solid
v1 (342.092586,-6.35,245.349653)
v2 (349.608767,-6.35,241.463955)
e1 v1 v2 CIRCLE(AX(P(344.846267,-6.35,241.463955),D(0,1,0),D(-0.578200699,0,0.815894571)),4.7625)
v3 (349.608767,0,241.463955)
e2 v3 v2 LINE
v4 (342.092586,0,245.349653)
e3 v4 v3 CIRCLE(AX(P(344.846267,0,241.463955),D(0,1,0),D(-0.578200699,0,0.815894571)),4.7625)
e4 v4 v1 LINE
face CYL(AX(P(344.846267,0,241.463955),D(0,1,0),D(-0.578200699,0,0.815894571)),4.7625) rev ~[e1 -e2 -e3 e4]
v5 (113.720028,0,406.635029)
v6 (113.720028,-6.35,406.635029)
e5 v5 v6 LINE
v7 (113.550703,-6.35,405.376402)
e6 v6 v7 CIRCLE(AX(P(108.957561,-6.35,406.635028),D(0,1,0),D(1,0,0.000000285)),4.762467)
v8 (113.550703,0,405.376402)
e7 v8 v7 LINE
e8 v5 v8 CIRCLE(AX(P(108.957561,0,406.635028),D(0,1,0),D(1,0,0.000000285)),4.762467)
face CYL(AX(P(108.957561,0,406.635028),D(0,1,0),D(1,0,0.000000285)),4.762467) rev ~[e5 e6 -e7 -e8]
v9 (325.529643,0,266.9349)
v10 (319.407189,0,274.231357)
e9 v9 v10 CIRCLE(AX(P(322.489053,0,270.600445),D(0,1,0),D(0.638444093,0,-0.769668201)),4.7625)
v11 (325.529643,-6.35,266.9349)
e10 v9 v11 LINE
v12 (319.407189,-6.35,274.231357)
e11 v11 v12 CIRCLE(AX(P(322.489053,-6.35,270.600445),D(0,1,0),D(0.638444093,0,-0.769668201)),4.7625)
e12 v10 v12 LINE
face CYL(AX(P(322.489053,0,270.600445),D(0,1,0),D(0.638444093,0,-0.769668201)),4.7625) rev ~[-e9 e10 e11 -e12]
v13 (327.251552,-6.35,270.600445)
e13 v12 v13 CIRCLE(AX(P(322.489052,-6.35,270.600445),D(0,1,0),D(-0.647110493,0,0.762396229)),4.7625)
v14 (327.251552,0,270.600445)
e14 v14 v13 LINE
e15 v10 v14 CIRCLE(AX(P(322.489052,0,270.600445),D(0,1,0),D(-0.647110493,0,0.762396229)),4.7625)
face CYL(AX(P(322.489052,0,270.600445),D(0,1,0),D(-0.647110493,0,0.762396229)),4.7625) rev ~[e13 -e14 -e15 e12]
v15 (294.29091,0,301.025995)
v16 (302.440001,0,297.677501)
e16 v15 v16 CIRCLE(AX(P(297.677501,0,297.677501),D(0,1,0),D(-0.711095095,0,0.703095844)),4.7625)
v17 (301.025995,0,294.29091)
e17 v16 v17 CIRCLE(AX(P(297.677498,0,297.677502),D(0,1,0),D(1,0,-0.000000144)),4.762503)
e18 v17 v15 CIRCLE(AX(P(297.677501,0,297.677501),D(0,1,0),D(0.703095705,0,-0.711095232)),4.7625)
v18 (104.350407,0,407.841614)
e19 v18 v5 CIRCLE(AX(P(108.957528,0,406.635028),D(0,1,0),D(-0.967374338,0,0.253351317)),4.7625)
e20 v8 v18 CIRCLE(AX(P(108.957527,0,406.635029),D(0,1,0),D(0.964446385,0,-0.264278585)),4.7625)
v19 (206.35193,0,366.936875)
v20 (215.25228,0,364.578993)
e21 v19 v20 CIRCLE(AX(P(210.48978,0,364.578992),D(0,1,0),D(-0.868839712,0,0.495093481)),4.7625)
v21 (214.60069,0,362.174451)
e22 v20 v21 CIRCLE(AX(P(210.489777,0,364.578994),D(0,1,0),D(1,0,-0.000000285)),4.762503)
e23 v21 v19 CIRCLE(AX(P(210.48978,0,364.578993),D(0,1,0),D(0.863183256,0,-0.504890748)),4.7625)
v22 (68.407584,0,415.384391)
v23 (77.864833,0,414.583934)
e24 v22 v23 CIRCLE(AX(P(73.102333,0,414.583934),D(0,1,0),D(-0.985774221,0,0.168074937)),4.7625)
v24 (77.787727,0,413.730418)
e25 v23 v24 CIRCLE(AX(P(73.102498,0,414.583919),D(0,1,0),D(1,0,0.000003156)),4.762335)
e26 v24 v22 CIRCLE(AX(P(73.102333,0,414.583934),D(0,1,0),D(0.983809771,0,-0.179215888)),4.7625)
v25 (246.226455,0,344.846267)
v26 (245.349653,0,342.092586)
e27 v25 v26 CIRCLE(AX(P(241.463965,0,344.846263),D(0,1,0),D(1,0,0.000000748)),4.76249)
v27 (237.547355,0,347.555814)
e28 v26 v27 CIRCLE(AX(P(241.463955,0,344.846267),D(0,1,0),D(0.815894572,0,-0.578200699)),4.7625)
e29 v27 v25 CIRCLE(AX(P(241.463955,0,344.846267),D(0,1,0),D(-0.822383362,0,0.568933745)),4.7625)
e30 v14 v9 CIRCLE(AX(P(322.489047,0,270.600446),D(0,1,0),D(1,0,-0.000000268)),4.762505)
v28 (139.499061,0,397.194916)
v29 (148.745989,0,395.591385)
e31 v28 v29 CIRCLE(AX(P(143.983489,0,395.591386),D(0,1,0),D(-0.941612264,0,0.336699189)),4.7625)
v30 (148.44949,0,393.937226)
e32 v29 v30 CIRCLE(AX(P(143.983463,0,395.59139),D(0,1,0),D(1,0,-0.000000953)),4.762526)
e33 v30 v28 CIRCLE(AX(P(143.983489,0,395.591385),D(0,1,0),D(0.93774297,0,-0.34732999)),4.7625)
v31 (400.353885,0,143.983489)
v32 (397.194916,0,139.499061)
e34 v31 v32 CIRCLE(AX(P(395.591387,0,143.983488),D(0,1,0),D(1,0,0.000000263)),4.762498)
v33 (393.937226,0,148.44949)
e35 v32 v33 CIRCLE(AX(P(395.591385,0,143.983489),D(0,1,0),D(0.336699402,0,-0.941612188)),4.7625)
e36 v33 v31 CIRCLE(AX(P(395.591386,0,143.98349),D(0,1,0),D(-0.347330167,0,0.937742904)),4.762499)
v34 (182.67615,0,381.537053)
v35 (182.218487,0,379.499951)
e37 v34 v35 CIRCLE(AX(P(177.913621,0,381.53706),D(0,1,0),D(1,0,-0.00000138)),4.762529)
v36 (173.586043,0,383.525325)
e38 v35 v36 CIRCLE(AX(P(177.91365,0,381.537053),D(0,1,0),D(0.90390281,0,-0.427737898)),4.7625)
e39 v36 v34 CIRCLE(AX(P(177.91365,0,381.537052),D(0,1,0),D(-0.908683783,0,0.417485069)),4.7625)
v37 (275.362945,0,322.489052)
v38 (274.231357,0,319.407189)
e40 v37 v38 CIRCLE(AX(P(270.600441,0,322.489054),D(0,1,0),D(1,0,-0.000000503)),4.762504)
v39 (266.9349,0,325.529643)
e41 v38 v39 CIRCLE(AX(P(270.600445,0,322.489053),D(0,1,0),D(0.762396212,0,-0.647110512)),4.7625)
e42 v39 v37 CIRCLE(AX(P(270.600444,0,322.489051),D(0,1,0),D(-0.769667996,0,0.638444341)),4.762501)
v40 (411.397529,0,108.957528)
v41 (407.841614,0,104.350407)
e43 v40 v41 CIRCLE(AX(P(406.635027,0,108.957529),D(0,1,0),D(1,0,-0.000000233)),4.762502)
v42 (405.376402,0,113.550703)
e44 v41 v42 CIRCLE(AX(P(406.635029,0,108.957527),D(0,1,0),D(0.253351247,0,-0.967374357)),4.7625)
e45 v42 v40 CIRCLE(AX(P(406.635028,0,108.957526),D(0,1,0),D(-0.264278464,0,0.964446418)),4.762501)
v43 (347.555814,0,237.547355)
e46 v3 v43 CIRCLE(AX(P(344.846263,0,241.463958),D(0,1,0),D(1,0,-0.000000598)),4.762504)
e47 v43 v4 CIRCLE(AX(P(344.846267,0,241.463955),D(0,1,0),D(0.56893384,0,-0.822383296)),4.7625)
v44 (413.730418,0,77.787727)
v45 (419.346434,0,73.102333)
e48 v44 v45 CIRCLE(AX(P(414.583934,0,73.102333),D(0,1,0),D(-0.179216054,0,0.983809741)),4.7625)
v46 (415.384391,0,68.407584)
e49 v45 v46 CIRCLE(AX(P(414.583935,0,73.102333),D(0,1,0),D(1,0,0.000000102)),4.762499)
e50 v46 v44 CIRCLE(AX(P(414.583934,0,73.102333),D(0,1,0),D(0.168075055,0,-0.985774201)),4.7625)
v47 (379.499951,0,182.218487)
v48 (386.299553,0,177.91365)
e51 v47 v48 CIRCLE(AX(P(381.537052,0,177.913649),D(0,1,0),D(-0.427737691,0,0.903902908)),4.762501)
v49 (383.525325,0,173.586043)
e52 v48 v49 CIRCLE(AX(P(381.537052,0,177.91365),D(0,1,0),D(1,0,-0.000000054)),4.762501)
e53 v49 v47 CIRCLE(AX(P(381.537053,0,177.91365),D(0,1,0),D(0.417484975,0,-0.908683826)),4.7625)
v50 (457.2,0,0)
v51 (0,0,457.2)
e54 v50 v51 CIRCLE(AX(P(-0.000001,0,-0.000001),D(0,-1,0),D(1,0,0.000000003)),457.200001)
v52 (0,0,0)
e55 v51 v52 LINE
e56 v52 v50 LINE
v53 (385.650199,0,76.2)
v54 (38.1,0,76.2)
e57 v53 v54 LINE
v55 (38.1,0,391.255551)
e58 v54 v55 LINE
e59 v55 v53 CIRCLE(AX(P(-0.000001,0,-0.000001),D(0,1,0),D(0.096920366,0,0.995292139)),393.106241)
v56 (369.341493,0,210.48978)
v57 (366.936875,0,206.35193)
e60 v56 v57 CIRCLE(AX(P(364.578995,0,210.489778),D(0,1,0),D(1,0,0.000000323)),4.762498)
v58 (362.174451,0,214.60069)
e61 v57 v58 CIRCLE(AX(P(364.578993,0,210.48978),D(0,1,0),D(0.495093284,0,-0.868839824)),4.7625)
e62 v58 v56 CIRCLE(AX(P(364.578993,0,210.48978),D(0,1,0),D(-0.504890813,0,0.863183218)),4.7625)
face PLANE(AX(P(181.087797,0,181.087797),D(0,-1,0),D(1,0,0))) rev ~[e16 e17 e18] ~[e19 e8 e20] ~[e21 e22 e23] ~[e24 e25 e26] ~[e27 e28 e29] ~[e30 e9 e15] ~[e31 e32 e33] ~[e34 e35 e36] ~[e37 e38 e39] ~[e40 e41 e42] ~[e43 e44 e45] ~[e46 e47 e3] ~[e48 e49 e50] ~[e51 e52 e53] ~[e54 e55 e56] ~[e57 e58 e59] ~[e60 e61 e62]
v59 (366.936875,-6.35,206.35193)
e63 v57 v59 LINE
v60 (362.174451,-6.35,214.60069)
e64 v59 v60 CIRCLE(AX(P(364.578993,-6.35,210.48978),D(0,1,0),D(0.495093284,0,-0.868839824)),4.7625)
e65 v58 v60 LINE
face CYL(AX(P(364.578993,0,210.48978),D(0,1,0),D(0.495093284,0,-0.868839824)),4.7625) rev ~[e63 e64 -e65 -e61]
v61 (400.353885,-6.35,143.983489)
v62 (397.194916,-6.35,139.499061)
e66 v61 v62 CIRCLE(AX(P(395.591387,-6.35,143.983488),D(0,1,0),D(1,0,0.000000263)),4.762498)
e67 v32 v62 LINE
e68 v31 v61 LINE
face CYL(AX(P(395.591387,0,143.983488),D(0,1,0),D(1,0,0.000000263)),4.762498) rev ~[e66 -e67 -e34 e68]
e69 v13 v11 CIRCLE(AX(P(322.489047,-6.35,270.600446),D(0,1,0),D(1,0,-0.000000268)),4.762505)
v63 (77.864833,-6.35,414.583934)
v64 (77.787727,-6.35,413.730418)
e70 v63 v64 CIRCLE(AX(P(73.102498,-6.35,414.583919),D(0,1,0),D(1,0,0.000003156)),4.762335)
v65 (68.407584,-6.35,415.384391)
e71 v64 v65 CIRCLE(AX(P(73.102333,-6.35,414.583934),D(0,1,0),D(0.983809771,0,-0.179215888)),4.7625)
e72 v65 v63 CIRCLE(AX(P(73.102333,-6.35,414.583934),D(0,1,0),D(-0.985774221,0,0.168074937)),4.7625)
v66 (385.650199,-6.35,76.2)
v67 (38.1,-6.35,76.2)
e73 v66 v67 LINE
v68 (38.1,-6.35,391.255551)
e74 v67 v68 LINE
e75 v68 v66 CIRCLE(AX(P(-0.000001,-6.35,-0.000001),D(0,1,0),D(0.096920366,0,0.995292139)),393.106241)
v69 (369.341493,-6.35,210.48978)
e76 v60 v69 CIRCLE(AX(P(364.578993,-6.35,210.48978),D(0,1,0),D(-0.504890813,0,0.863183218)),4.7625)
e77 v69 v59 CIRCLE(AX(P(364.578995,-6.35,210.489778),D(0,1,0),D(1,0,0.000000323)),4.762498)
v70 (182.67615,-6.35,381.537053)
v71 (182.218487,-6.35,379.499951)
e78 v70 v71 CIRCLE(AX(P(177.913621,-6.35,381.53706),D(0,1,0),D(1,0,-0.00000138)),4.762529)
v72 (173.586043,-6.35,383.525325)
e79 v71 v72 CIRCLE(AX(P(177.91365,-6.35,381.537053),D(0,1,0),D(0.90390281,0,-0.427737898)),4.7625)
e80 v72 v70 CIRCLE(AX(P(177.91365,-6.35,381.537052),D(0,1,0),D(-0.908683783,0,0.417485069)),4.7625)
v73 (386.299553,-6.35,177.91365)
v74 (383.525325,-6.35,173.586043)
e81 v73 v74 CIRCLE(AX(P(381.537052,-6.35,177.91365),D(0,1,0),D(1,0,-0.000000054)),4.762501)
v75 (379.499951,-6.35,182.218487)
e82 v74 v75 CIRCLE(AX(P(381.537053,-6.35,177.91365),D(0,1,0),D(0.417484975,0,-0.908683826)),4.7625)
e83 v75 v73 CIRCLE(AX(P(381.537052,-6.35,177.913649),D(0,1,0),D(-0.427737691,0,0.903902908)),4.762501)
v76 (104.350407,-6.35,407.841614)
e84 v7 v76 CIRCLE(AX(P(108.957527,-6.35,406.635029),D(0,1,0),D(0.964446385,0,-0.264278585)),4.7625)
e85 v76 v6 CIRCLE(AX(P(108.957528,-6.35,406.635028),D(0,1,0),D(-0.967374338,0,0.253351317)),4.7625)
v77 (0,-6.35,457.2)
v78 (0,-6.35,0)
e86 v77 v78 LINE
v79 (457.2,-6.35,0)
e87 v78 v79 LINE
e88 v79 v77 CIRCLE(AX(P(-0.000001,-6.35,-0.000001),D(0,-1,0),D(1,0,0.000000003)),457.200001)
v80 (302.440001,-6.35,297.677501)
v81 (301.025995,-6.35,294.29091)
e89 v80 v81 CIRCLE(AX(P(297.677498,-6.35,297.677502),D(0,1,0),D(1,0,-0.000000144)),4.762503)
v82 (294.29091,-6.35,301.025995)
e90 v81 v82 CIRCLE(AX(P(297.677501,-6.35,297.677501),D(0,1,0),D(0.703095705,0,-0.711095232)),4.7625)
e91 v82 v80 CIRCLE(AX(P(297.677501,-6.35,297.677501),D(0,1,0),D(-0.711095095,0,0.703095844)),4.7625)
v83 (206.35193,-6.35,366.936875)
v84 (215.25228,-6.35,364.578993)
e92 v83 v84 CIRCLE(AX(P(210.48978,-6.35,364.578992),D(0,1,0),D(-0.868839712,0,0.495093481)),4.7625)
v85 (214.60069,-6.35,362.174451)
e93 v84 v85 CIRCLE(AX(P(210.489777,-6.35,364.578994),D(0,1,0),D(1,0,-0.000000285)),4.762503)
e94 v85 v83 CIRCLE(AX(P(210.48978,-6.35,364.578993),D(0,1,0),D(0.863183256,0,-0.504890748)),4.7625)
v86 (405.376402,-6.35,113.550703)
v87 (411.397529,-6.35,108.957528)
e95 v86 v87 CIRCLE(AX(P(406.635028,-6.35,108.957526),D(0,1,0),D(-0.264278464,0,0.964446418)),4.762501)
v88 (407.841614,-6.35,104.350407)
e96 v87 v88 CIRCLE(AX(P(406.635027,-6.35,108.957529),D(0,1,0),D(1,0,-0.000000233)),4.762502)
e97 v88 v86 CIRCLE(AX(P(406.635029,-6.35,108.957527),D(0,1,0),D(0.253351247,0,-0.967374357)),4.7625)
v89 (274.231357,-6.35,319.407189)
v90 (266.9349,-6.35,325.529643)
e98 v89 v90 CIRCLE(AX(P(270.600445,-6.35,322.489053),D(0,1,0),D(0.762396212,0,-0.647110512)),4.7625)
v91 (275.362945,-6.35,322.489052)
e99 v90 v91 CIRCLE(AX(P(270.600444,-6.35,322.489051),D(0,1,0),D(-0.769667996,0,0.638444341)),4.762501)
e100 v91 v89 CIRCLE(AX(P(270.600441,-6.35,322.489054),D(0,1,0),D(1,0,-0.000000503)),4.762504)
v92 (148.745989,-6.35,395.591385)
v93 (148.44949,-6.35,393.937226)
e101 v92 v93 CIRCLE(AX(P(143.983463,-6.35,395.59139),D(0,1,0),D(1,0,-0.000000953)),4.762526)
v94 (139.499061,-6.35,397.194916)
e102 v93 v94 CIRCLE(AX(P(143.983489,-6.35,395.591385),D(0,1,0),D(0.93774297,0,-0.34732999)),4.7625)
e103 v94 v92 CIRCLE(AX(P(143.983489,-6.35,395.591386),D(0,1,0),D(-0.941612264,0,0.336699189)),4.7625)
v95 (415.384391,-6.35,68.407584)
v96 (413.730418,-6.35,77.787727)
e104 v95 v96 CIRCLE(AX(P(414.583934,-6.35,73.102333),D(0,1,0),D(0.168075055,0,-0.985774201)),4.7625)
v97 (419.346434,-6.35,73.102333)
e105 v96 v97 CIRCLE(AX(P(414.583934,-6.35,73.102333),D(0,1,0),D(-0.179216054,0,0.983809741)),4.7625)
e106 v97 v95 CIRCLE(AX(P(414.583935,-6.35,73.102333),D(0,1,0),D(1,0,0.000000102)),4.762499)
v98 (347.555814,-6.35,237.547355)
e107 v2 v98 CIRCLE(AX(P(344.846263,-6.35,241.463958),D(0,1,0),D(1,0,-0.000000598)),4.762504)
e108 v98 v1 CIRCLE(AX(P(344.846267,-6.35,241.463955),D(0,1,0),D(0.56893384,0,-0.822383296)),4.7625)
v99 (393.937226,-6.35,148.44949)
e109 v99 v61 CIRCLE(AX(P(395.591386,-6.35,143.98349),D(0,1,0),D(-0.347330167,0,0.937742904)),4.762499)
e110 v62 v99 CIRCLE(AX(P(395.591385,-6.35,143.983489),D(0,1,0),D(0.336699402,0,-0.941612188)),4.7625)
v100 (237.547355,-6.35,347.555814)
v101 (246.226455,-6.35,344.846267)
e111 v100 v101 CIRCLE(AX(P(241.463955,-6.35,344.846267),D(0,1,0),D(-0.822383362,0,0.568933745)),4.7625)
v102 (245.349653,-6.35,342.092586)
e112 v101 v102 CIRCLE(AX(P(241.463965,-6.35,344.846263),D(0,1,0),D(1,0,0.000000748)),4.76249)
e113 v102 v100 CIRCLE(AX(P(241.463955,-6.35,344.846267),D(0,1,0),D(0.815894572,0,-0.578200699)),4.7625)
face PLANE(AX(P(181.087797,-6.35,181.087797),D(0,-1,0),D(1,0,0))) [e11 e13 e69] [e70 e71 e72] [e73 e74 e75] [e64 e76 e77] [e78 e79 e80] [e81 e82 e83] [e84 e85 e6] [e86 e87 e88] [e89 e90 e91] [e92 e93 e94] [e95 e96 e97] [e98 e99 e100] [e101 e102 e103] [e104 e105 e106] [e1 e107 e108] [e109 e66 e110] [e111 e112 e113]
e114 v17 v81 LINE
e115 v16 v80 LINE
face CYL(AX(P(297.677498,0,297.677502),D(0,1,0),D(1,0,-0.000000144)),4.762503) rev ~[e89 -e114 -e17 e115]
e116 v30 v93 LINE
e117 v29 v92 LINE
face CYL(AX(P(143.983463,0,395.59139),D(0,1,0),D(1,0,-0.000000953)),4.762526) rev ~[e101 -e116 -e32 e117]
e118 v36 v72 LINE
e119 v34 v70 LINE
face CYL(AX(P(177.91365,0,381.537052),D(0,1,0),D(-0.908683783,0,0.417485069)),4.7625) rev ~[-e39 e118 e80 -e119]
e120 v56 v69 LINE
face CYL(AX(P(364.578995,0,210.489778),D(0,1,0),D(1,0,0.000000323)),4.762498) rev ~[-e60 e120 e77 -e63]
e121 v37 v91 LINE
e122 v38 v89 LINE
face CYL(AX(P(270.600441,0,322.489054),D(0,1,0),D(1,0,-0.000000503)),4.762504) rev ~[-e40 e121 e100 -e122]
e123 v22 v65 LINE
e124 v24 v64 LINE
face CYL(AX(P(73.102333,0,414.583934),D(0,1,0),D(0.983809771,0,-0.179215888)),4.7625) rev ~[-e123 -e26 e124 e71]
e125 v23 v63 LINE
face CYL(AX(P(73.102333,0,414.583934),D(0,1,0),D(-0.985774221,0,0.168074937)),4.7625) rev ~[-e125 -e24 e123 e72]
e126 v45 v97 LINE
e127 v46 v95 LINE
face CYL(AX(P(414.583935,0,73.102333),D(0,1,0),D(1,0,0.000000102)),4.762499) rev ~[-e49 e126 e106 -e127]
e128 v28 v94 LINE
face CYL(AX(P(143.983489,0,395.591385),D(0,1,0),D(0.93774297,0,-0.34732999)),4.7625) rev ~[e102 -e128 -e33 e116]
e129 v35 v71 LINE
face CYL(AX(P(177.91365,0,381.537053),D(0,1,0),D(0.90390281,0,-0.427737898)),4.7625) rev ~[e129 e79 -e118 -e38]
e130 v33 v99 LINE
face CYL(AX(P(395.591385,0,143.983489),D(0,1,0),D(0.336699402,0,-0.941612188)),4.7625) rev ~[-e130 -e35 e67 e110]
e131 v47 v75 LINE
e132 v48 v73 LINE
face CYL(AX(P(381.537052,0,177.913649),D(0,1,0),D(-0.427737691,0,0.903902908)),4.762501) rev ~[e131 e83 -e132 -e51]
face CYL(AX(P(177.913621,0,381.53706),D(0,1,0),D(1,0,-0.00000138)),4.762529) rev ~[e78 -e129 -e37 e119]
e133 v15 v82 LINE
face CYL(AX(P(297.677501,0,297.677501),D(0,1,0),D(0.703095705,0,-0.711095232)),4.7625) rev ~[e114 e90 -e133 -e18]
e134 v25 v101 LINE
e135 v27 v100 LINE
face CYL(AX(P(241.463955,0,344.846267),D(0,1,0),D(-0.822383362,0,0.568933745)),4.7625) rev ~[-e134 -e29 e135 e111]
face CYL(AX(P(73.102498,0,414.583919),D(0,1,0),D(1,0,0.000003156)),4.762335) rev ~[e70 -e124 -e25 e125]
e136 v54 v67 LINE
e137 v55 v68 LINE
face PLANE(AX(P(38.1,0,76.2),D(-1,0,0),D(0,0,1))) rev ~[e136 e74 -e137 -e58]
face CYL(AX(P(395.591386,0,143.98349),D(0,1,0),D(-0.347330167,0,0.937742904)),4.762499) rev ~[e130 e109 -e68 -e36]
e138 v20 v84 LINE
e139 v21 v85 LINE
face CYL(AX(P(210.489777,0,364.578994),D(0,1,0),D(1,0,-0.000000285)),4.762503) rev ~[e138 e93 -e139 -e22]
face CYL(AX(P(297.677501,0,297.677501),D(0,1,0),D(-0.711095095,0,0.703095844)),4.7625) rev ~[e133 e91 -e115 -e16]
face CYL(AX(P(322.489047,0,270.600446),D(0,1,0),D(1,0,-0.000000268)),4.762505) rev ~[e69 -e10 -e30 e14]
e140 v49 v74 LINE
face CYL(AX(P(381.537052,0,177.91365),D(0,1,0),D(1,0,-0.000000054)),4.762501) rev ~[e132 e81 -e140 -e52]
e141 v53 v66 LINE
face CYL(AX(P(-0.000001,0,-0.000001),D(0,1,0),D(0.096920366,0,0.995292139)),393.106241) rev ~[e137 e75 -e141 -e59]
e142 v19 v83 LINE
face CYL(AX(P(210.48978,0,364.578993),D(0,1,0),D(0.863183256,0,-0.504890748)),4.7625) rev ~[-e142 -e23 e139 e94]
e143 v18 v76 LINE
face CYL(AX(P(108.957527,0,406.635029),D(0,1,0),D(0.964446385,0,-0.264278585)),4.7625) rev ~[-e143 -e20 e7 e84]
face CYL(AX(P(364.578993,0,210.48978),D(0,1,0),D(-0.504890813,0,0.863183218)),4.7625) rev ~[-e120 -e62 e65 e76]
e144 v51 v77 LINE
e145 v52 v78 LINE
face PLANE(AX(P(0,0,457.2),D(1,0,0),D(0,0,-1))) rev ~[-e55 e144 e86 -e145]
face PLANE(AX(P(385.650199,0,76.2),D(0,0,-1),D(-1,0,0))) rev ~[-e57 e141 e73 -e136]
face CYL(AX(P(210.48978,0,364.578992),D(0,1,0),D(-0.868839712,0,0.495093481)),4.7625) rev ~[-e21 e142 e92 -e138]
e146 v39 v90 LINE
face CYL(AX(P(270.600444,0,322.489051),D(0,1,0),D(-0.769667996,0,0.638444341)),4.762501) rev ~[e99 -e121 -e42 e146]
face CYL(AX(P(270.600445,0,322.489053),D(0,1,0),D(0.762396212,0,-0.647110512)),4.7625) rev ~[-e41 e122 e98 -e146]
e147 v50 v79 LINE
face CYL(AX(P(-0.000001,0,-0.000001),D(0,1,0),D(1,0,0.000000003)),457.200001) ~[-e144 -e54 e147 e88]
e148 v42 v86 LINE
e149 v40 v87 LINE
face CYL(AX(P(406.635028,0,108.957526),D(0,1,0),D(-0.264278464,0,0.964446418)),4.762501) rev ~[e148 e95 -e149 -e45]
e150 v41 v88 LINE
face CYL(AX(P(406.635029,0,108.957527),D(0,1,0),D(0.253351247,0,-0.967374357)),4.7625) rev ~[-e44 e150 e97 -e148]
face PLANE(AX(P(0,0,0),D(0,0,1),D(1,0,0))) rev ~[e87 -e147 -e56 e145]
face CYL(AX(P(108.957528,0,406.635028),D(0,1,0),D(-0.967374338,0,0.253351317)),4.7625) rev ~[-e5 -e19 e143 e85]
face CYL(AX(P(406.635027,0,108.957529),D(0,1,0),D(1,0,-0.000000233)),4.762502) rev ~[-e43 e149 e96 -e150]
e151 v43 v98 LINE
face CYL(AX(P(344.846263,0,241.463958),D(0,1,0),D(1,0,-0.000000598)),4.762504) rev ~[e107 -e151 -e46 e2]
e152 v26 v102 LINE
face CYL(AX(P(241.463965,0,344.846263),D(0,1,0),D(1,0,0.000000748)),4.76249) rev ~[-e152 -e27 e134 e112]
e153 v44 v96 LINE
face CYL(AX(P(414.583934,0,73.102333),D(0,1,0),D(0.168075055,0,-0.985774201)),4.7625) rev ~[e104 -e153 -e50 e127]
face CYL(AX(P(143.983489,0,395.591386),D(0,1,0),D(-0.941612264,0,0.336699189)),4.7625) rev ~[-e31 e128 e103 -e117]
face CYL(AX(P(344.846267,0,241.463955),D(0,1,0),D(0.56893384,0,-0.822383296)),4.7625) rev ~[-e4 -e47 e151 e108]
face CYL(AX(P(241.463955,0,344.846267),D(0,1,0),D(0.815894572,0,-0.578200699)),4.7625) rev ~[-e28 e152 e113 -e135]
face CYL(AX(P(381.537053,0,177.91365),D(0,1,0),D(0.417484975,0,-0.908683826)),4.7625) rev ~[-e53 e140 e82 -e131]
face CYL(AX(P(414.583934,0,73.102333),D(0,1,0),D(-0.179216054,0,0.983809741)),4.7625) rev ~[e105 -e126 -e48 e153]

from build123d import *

# Parameters (mm, degrees)
F1_DEPTH = 6.35


with BuildPart() as f1:
    # F0 (on Front) → F1 (new body)
    with BuildSketch(Plane.XZ):
        with BuildLine():
            Line((0, 420.979559), (0, 0))
            Line((0, 0), (420.979559, 0))
            ThreePointArc((420.979559, 0), (419.578436, 34.318011), (415.384391, 68.407584))
            ThreePointArc((415.384391, 68.407584), (409.893787, 72.275334), (413.730418, 77.787727))
            ThreePointArc((413.730418, 77.787727), (411.000663, 91.116653), (407.841614, 104.350407))
            ThreePointArc((407.841614, 104.350407), (402.034807, 107.724902), (405.376402, 113.550703))
            ThreePointArc((405.376402, 113.550703), (401.495342, 126.590995), (397.194916, 139.499061))
            ThreePointArc((397.194916, 139.499061), (391.116099, 142.354618), (393.937226, 148.44949))
            ThreePointArc((393.937226, 148.44949), (388.934399, 161.101903), (383.525325, 173.586043))
            ThreePointArc((383.525325, 173.586043), (377.220762, 175.90093), (379.499951, 182.218487))
            ThreePointArc((379.499951, 182.218487), (373.41343, 194.386728), (366.936875, 206.35193))
            ThreePointArc((366.936875, 206.35193), (360.454547, 208.10853), (362.174451, 214.60069))
            ThreePointArc((362.174451, 214.60069), (355.050559, 226.192152), (347.555814, 237.547355))
            ThreePointArc((347.555814, 237.547355), (340.945055, 238.732298), (342.092586, 245.349653))
            ThreePointArc((342.092586, 245.349653), (333.98554, 256.276118), (325.529643, 266.9349))
            ThreePointArc((325.529643, 266.9349), (318.840766, 267.539169), (319.407189, 274.231357))
            ThreePointArc((319.407189, 274.231357), (310.378688, 284.409668), (301.025995, 294.29091))
            ThreePointArc((301.025995, 294.29091), (294.309905, 294.309905), (294.29091, 301.025995))
            ThreePointArc((294.29091, 301.025995), (284.409668, 310.378688), (274.231357, 319.407189))
            ThreePointArc((274.231357, 319.407189), (267.539169, 318.840766), (266.9349, 325.529643))
            ThreePointArc((266.9349, 325.529643), (256.276118, 333.98554), (245.349653, 342.092586))
            ThreePointArc((245.349653, 342.092586), (238.732298, 340.945055), (237.547355, 347.555814))
            ThreePointArc((237.547355, 347.555814), (226.192152, 355.050559), (214.60069, 362.174451))
            ThreePointArc((214.60069, 362.174451), (208.10853, 360.454547), (206.35193, 366.936875))
            ThreePointArc((206.35193, 366.936875), (194.386728, 373.41343), (182.218487, 379.499951))
            ThreePointArc((182.218487, 379.499951), (175.90093, 377.220762), (173.586043, 383.525325))
            ThreePointArc((173.586043, 383.525325), (161.101903, 388.934399), (148.44949, 393.937226))
            ThreePointArc((148.44949, 393.937226), (142.354618, 391.116099), (139.499061, 397.194916))
            ThreePointArc((139.499061, 397.194916), (126.590995, 401.495342), (113.550703, 405.376402))
            ThreePointArc((113.550703, 405.376402), (107.724902, 402.034807), (104.350407, 407.841614))
            ThreePointArc((104.350407, 407.841614), (91.116653, 411.000663), (77.787727, 413.730418))
            ThreePointArc((77.787727, 413.730418), (72.275334, 409.893787), (68.407584, 415.384391))
            ThreePointArc((68.407584, 415.384391), (34.318011, 419.578436), (0, 420.979559))
        make_face()
        with BuildLine():
            Line((385.650199, 76.2), (38.1, 76.2))
            Line((38.1, 76.2), (38.1, 391.255551))
            ThreePointArc((38.1, 391.255551), (264.019048, 291.249821), (385.650199, 76.2))
        make_face(mode=Mode.SUBTRACT)
        with BuildLine():
            Line((0, 457.2), (0, 420.979559))
            ThreePointArc((0, 420.979559), (34.318011, 419.578436), (68.407584, 415.384391))
            ThreePointArc((68.407584, 415.384391), (73.503993, 419.329466), (77.864833, 414.583934))
            ThreePointArc((77.864833, 414.583934), (77.845518, 414.155438), (77.787727, 413.730418))
            ThreePointArc((77.787727, 413.730418), (91.116653, 411.000663), (104.350407, 407.841614))
            ThreePointArc((104.350407, 407.841614), (109.565802, 411.358524), (113.720028, 406.635029))
            ThreePointArc((113.720028, 406.635029), (113.677507, 406.000046), (113.550703, 405.376402))
            ThreePointArc((113.550703, 405.376402), (126.590995, 401.495342), (139.499061, 397.194916))
            ThreePointArc((139.499061, 397.194916), (144.797221, 400.283853), (148.745989, 395.591385))
            ThreePointArc((148.745989, 395.591385), (148.671278, 394.751125), (148.44949, 393.937226))
            ThreePointArc((148.44949, 393.937226), (161.101903, 388.934399), (173.586043, 383.525325))
            ThreePointArc((173.586043, 383.525325), (178.931289, 386.189559), (182.67615, 381.537053))
            ThreePointArc((182.67615, 381.537053), (182.560325, 380.493113), (182.218487, 379.499951))
            ThreePointArc((182.218487, 379.499951), (194.386728, 373.41343), (206.35193, 366.936875))
            ThreePointArc((206.35193, 366.936875), (211.70939, 369.182682), (215.25228, 364.578993))
            ThreePointArc((215.25228, 364.578993), (215.086497, 363.333362), (214.60069, 362.174451))
            ThreePointArc((214.60069, 362.174451), (226.192152, 355.050559), (237.547355, 347.555814))
            ThreePointArc((237.547355, 347.555814), (242.883215, 349.392376), (246.226455, 344.846267))
            ThreePointArc((246.226455, 344.846267), (246.001964, 343.401315), (245.349653, 342.092586))
            ThreePointArc((245.349653, 342.092586), (256.276118, 333.98554), (266.9349, 325.529643))
            ThreePointArc((266.9349, 325.529643), (272.216652, 326.968927), (275.362945, 322.489052))
            ThreePointArc((275.362945, 322.489052), (275.071106, 320.847531), (274.231357, 319.407189))
            ThreePointArc((274.231357, 319.407189), (284.409668, 310.378688), (294.29091, 301.025995))
            ThreePointArc((294.29091, 301.025995), (299.48758, 302.082614), (302.440001, 297.677501))
            ThreePointArc((302.440001, 297.677501), (302.072305, 295.842534), (301.025995, 294.29091))
            ThreePointArc((301.025995, 294.29091), (310.378688, 284.409668), (319.407189, 274.231357))
            ThreePointArc((319.407189, 274.231357), (324.489556, 274.922411), (327.251552, 270.600445))
            ThreePointArc((327.251552, 270.600445), (326.799633, 268.575526), (325.529643, 266.9349))
            ThreePointArc((325.529643, 266.9349), (333.98554, 256.276118), (342.092586, 245.349653))
            ThreePointArc((342.092586, 245.349653), (347.033388, 245.694547), (349.608767, 241.463955))
            ThreePointArc((349.608767, 241.463955), (349.064419, 239.252939), (347.555814, 237.547355))
            ThreePointArc((347.555814, 237.547355), (355.050559, 226.192152), (362.174451, 214.60069))
            ThreePointArc((362.174451, 214.60069), (366.948569, 214.620944), (369.341493, 210.48978))
            ThreePointArc((369.341493, 210.48978), (368.696688, 208.096874), (366.936875, 206.35193))
            ThreePointArc((366.936875, 206.35193), (373.41343, 194.386728), (379.499951, 182.218487))
            ThreePointArc((379.499951, 182.218487), (384.084572, 181.937522), (386.299553, 177.91365))
            ThreePointArc((386.299553, 177.91365), (385.546451, 175.34341), (383.525325, 173.586043))
            ThreePointArc((383.525325, 173.586043), (388.934399, 161.101903), (393.937226, 148.44949))
            ThreePointArc((393.937226, 148.44949), (398.311999, 147.892411), (400.353885, 143.983489))
            ThreePointArc((400.353885, 143.983489), (399.484856, 141.240809), (397.194916, 139.499061))
            ThreePointArc((397.194916, 139.499061), (401.495342, 126.590995), (405.376402, 113.550703))
            ThreePointArc((405.376402, 113.550703), (409.523557, 112.744057), (411.397529, 108.957528))
            ThreePointArc((411.397529, 108.957528), (410.405159, 106.047627), (407.841614, 104.350407))
            ThreePointArc((407.841614, 104.350407), (411.000663, 91.116653), (413.730418, 77.787727))
            ThreePointArc((413.730418, 77.787727), (417.63488, 76.759263), (419.346434, 73.102333))
            ThreePointArc((419.346434, 73.102333), (418.223548, 70.030751), (415.384391, 68.407584))
            ThreePointArc((415.384391, 68.407584), (419.578436, 34.318011), (420.979559, 0))
            Line((420.979559, 0), (457.2, 0))
            ThreePointArc((457.2, 0), (323.28922, 323.28922), (0, 457.2))
        make_face()
    extrude(amount=F1_DEPTH)


solid = f1.part
